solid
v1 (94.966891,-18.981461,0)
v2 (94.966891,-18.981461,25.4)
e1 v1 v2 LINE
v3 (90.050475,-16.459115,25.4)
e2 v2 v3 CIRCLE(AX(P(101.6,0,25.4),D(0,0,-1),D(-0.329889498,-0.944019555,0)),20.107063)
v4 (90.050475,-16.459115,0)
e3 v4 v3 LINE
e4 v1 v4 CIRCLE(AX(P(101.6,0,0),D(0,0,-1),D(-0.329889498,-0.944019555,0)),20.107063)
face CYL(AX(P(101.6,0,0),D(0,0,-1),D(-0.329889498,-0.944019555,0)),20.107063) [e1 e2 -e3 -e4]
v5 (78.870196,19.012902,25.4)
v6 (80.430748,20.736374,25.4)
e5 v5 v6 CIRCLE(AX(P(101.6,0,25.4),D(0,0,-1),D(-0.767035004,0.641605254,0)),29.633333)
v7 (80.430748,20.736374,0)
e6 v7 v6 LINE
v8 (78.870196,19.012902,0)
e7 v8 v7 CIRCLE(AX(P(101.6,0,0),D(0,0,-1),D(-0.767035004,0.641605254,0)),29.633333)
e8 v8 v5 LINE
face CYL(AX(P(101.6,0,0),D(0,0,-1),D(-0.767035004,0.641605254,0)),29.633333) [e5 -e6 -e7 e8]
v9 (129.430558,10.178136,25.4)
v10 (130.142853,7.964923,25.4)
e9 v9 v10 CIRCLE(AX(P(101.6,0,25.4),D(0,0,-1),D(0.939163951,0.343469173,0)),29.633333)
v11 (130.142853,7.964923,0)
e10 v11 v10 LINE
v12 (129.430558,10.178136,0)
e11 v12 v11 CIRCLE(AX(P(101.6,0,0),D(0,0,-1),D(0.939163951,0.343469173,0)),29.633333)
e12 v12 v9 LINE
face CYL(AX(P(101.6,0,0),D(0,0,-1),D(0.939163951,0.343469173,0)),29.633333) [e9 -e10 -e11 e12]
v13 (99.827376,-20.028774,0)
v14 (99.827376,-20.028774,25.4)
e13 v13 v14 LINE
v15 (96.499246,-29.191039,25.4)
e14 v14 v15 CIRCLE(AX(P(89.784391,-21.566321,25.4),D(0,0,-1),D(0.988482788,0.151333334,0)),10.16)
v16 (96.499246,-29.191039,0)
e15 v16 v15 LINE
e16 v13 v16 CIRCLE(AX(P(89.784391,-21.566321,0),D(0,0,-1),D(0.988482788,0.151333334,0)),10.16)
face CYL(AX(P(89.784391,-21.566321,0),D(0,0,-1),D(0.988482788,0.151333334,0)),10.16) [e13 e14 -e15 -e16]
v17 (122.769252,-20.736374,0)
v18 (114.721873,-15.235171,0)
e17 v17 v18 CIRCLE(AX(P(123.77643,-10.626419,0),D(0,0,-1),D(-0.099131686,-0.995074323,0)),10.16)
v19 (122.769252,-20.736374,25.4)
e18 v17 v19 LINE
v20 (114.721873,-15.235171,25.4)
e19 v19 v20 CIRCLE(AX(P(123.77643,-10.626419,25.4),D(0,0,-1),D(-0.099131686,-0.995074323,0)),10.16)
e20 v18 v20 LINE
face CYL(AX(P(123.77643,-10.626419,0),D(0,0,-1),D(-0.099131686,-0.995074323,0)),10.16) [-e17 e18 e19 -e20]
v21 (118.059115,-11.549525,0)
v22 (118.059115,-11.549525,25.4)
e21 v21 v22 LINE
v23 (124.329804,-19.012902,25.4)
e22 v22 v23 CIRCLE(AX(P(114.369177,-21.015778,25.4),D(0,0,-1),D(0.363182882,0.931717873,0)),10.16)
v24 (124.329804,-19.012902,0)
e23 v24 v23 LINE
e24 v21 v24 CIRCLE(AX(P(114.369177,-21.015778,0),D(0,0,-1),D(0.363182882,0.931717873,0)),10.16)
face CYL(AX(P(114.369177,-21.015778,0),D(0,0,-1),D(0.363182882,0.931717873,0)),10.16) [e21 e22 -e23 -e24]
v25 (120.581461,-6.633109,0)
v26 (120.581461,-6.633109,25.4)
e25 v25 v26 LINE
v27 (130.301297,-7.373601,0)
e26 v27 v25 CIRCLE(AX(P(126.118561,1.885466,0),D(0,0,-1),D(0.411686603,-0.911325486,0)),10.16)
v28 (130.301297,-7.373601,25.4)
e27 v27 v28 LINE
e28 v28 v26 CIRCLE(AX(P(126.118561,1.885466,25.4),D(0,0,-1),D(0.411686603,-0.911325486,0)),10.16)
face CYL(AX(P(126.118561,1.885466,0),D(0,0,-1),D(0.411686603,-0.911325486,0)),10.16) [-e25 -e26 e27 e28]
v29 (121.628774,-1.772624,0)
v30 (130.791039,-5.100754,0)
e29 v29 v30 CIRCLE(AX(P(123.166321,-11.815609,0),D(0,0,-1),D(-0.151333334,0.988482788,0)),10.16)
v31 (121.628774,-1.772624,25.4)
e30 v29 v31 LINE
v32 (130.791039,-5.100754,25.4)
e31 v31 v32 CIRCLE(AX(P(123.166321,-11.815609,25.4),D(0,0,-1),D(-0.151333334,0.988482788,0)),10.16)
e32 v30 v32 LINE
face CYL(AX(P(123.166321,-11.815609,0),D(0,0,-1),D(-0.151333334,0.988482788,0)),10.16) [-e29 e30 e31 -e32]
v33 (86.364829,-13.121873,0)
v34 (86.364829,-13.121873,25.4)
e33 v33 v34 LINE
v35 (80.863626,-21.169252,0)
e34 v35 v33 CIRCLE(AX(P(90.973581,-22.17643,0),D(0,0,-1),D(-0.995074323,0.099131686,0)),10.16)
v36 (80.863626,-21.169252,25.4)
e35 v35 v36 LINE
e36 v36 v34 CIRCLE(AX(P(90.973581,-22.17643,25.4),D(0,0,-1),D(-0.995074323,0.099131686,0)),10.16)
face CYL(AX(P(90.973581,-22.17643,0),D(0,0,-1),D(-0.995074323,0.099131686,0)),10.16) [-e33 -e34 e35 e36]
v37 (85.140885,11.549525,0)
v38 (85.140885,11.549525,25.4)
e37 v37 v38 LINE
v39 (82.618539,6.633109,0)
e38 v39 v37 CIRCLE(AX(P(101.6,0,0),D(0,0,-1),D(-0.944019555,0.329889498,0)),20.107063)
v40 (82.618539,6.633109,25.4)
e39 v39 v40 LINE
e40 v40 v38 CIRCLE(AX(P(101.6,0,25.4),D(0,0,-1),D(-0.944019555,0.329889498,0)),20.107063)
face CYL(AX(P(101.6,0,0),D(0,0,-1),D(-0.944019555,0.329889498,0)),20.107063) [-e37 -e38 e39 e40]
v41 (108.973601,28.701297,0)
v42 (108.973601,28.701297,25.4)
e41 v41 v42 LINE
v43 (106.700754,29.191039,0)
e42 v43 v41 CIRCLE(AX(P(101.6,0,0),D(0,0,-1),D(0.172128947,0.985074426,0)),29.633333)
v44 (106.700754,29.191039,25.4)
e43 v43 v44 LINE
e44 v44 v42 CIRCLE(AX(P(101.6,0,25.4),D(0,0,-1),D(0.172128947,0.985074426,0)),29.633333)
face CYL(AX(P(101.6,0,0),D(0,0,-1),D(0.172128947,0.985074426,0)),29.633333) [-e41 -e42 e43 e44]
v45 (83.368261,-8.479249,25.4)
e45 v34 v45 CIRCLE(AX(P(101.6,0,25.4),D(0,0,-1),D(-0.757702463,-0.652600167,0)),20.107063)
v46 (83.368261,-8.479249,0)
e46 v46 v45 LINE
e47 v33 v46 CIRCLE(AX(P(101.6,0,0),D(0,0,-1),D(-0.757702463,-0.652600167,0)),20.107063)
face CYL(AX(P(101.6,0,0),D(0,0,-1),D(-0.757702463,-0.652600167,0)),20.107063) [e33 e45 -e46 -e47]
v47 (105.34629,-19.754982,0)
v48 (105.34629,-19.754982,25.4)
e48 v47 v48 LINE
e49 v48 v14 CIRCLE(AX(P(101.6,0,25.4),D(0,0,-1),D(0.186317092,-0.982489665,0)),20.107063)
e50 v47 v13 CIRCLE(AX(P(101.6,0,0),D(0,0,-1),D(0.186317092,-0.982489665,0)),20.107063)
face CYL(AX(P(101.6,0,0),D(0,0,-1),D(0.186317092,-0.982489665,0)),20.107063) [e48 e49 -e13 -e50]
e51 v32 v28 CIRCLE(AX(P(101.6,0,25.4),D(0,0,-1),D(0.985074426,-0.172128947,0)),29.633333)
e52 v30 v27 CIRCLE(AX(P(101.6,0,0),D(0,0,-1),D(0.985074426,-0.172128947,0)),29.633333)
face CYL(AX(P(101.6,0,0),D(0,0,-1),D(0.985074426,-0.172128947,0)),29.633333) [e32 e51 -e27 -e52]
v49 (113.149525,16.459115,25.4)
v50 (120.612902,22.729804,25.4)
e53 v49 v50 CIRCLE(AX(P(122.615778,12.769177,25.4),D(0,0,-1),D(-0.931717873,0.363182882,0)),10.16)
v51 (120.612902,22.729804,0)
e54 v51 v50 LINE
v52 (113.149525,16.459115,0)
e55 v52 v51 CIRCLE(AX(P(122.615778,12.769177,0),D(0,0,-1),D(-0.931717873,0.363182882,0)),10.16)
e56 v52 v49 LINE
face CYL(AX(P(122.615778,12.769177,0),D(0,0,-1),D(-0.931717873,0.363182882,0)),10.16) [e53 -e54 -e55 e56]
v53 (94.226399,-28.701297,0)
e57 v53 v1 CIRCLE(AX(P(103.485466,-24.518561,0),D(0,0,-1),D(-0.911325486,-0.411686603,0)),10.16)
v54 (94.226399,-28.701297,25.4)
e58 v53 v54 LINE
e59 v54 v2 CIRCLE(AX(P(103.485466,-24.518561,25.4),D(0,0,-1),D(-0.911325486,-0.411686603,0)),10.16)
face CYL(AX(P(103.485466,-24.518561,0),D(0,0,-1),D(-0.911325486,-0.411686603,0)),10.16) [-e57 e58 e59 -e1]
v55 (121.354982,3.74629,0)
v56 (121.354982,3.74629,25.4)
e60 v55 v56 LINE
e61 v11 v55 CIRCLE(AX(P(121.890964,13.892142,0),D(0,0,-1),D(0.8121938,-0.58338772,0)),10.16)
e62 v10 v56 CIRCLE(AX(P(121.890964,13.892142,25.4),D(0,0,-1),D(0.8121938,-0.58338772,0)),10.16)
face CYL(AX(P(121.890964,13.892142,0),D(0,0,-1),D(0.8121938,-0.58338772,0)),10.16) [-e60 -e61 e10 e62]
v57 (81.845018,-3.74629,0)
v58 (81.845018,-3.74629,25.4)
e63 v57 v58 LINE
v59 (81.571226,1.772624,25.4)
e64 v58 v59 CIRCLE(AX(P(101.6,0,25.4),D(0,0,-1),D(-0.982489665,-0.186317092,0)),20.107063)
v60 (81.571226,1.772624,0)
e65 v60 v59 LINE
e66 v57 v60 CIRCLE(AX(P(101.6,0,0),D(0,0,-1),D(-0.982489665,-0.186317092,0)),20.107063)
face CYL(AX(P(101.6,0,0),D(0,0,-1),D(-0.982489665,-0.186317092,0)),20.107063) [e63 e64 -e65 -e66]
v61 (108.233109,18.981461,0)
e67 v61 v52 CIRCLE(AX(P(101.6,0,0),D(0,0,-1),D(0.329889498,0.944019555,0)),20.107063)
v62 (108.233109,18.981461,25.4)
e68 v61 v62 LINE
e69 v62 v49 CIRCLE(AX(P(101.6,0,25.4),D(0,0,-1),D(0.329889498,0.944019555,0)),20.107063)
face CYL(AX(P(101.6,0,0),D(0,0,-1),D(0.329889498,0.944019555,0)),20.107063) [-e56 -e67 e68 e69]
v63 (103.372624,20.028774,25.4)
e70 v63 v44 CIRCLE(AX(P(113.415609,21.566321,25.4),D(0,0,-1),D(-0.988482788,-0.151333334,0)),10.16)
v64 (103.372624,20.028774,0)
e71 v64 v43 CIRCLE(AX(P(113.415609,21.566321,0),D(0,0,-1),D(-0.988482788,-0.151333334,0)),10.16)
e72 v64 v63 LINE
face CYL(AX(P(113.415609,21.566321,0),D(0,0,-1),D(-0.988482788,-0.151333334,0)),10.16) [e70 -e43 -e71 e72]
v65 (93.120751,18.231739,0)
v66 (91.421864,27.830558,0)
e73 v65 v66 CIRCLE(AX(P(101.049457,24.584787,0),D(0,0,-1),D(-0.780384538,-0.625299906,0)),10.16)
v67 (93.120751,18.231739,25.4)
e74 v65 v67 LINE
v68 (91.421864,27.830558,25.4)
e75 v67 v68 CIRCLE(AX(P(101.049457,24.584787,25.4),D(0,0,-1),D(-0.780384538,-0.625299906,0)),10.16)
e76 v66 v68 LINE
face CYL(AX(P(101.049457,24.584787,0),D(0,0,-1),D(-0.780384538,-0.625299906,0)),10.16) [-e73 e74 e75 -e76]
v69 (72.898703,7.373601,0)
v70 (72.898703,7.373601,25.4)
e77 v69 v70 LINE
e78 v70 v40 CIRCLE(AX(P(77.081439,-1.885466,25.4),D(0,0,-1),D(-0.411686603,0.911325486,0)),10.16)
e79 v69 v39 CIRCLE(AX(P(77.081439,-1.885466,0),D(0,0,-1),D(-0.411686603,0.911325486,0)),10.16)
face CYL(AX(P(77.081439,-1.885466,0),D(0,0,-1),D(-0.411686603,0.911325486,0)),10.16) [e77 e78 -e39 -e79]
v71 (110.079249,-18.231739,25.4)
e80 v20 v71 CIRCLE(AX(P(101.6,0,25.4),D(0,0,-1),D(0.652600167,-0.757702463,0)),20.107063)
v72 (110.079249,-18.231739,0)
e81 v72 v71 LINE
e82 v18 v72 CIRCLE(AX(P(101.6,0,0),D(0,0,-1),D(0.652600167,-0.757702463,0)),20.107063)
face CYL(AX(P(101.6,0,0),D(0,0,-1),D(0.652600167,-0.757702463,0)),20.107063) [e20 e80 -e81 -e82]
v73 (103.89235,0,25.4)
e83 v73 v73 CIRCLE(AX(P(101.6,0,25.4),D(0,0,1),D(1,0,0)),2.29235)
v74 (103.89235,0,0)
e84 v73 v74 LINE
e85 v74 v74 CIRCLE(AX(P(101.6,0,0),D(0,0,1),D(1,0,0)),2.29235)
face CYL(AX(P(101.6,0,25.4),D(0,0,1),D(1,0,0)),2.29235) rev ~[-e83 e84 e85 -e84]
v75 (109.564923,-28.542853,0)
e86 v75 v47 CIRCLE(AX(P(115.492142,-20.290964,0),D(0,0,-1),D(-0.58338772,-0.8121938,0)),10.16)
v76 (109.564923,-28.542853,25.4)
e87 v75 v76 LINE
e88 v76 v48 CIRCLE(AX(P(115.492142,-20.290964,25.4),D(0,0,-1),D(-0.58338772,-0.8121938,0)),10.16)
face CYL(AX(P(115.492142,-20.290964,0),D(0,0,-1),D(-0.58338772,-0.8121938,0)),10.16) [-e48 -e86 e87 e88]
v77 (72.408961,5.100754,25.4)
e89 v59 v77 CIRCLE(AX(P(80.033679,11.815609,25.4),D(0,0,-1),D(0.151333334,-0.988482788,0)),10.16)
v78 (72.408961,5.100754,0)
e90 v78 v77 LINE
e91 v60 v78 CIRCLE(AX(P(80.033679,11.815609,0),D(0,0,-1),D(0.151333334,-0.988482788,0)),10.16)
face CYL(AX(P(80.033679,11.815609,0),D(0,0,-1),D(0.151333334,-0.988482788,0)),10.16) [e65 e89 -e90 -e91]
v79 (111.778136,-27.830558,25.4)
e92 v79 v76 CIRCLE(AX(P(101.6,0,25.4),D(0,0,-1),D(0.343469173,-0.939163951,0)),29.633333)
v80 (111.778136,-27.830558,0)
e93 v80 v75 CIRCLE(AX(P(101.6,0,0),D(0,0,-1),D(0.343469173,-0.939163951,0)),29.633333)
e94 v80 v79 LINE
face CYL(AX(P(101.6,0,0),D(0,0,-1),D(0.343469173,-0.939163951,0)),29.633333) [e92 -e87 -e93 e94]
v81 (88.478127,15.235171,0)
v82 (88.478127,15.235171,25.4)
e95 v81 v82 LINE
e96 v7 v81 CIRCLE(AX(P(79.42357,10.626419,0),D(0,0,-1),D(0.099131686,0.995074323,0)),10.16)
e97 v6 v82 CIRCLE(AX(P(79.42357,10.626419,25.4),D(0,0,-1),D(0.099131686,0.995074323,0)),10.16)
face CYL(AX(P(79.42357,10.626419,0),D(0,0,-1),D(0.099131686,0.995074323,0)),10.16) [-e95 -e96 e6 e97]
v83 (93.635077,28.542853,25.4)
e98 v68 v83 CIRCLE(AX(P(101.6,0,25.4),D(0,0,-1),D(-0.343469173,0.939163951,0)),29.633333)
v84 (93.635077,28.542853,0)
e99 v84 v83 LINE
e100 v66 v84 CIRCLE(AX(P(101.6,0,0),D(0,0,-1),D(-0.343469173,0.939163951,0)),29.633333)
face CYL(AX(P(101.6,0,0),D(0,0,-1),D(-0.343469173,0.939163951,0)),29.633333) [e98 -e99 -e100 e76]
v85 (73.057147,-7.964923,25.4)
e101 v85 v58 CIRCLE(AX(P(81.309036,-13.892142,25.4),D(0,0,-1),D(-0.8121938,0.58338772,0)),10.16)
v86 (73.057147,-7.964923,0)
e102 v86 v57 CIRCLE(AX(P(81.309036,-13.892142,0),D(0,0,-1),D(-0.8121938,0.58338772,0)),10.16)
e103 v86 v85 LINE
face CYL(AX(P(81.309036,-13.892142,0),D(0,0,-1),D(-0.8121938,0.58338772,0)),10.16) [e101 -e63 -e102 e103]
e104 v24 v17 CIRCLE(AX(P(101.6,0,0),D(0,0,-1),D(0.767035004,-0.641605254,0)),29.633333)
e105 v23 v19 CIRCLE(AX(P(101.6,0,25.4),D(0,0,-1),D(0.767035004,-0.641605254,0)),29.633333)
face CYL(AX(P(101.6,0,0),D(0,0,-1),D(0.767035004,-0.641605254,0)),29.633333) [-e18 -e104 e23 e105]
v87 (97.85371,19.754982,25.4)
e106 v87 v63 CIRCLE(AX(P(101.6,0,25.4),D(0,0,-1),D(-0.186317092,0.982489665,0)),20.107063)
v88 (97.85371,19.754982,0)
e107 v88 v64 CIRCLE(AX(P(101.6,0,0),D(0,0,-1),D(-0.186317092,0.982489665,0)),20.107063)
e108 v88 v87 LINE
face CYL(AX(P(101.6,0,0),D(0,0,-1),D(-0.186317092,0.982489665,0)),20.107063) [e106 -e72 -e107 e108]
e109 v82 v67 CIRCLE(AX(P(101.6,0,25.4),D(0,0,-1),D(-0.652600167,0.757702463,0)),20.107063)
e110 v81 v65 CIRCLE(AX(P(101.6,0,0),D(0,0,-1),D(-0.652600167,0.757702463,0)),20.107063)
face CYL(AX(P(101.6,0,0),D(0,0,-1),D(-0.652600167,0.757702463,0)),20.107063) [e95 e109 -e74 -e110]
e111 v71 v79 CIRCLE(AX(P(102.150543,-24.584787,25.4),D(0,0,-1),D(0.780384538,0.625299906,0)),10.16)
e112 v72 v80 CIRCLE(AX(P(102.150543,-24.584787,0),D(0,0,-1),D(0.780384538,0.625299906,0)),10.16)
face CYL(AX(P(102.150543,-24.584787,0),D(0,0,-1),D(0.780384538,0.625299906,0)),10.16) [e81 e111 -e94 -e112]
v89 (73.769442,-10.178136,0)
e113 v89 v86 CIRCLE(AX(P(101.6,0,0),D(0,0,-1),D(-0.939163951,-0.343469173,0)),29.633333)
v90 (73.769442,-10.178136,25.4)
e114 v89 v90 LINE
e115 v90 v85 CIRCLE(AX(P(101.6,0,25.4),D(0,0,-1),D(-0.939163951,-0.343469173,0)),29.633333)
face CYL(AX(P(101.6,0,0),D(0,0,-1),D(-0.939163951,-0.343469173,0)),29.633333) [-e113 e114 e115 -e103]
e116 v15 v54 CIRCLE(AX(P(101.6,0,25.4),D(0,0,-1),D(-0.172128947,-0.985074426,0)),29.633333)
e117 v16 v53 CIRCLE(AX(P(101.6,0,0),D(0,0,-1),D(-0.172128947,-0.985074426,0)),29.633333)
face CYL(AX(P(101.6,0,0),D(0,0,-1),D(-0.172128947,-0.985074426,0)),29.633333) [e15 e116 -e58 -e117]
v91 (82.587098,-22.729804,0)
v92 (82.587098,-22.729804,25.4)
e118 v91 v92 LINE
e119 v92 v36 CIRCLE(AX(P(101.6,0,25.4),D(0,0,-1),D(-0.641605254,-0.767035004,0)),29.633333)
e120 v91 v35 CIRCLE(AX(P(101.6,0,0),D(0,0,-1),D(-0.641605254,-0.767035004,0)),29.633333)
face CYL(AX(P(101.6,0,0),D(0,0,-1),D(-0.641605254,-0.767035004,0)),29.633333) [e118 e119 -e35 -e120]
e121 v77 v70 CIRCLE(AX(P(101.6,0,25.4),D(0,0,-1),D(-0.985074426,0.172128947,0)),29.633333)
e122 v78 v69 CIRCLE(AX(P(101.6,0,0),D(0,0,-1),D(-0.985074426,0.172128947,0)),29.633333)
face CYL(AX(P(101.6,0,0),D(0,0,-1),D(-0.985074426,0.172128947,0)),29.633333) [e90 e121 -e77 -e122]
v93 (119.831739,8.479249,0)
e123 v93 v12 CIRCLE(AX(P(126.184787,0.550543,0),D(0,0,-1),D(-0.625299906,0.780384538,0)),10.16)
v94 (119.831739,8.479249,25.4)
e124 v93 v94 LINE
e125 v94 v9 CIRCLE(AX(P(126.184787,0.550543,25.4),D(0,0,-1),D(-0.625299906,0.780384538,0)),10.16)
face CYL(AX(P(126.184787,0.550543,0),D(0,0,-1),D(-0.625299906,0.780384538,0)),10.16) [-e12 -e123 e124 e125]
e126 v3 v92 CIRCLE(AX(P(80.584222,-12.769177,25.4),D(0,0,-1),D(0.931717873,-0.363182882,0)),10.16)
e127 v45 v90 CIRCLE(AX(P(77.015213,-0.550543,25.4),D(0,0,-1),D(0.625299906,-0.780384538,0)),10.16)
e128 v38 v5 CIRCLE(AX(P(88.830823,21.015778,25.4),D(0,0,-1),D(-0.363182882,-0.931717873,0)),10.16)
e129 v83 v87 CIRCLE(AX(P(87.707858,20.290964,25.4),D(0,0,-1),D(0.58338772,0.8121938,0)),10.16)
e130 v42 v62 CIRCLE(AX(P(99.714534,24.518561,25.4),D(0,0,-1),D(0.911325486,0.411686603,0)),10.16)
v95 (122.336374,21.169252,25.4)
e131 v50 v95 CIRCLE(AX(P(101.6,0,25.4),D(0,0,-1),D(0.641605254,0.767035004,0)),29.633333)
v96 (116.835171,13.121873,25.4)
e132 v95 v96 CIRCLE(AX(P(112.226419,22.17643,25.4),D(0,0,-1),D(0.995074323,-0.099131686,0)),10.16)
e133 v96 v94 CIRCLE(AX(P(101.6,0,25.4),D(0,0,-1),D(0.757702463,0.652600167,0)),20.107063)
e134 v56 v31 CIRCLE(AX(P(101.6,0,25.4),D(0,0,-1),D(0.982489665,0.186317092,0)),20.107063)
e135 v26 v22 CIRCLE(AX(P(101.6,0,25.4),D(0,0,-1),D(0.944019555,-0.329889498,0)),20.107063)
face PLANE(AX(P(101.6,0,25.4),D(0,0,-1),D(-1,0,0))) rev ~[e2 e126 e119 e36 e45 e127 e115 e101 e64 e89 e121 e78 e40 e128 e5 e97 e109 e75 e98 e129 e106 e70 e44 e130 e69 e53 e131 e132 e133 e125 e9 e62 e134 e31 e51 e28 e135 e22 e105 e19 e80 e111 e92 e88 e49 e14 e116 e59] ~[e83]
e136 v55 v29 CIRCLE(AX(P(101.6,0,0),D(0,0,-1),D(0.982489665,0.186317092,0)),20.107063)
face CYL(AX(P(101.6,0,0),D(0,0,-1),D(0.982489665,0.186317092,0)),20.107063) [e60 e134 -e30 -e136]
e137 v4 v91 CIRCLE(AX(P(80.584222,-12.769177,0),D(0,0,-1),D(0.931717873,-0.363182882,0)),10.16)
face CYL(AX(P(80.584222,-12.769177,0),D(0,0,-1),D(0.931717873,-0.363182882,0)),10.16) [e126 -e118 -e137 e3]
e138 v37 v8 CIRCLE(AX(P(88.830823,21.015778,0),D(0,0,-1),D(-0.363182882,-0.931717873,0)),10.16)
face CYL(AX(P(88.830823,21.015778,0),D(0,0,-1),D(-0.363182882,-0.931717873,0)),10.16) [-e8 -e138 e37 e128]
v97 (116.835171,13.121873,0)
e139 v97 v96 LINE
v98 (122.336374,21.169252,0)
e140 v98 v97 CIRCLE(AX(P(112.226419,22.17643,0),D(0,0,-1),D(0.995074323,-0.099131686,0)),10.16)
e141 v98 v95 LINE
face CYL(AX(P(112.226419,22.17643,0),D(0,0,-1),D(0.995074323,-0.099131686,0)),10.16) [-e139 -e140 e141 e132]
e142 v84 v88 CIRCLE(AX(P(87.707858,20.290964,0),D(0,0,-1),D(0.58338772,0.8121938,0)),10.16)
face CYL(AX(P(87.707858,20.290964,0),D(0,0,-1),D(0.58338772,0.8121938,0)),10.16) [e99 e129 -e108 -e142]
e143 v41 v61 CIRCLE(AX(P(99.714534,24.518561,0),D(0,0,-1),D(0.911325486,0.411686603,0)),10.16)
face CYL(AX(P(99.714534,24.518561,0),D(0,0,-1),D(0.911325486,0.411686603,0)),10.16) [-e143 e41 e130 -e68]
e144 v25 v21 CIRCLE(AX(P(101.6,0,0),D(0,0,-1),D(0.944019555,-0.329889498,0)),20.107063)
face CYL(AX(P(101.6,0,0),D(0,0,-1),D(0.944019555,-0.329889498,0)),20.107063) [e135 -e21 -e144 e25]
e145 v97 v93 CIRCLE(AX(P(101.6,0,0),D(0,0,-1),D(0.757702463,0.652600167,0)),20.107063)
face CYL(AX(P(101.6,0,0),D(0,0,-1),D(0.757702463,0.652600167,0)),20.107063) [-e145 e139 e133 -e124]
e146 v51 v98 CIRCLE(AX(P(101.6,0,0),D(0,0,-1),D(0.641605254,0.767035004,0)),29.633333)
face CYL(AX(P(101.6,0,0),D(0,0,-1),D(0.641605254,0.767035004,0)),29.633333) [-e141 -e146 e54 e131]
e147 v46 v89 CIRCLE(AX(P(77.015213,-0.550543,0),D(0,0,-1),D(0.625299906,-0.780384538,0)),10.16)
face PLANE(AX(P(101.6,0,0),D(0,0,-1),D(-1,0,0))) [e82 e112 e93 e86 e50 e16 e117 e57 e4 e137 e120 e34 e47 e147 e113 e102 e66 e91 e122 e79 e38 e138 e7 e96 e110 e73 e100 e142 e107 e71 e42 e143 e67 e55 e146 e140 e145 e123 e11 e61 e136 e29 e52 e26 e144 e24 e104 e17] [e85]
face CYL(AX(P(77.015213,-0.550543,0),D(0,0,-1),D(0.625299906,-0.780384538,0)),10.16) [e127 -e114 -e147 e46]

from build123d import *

# Parameters (mm, degrees)
SKETCH1_R           = 0.396875
BOSS_EXTRUDE1_DEPTH = 25.4
SKETCH3_R           = 2.29235
CUT_EXTRUDE1_DEPTH  = 45.3009


with BuildPart() as part:
    # Sketch1 → Boss-Extrude1 (new body)
    with BuildSketch(Plane(origin=(0, 0, 0), x_dir=(-1, 0, 0), z_dir=(0, 0, -1))):
        with BuildLine():
            ThreePointArc((-94.226399104, -28.701297083), (-93.354822314, -23.746772531), (-94.966890975, -18.98146097))
            ThreePointArc((-94.966890975, -18.98146097), (-92.421623219, -17.889980312), (-90.050475192, -16.459115183))
            ThreePointArc((-90.050475192, -16.459115183), (-87.119940237, -20.547993332), (-82.587097641, -22.729803966))
            ThreePointArc((-82.587097641, -22.729803966), (-81.710050828, -21.966437271), (-80.863625765, -21.169251948))
            ThreePointArc((-80.863625765, -21.169251948), (-82.5860804, -16.442719427), (-86.364828593, -13.121872888))
            ThreePointArc((-86.364828593, -13.121872888), (-84.706302386, -10.903989032), (-83.368260523, -8.479249468))
            ThreePointArc((-83.368260523, -8.479249468), (-78.785903731, -10.555054341), (-73.769441574, -10.178136478))
            ThreePointArc((-73.769441574, -10.178136478), (-73.391580101, -9.078518121), (-73.057147156, -7.964922849))
            ThreePointArc((-73.057147156, -7.964922849), (-76.912102887, -4.732852931), (-81.845018087, -3.746289563))
            ThreePointArc((-81.845018087, -3.746289563), (-81.517634186, -0.996282698), (-81.571225724, 1.772624294))
            ThreePointArc((-81.571225724, 1.772624294), (-76.564885896, 2.266102937), (-72.408961163, 5.10075446))
            ThreePointArc((-72.408961163, 5.10075446), (-72.631532707, 6.241982628), (-72.898702917, 7.373600896))
            ThreePointArc((-72.898702917, 7.373600896), (-77.853227469, 8.245177686), (-82.61853903, 6.633109025))
            ThreePointArc((-82.61853903, 6.633109025), (-83.710019688, 9.178376781), (-85.140884817, 11.549524808))
            ThreePointArc((-85.140884817, 11.549524808), (-81.052006668, 14.480059763), (-78.870196034, 19.012902359))
            ThreePointArc((-78.870196034, 19.012902359), (-79.633562729, 19.889949172), (-80.430748052, 20.736374235))
            ThreePointArc((-80.430748052, 20.736374235), (-85.157280573, 19.0139196), (-88.478127112, 15.235171407))
            ThreePointArc((-88.478127112, 15.235171407), (-90.696010968, 16.893697614), (-93.120750532, 18.231739477))
            ThreePointArc((-93.120750532, 18.231739477), (-91.044945659, 22.814096269), (-91.421863522, 27.830558426))
            ThreePointArc((-91.421863522, 27.830558426), (-92.521481879, 28.208419899), (-93.635077151, 28.542852844))
            ThreePointArc((-93.635077151, 28.542852844), (-96.867147069, 24.687897113), (-97.853710437, 19.754981913))
            ThreePointArc((-97.853710437, 19.754981913), (-100.603717302, 20.082365814), (-103.372624294, 20.028774276))
            ThreePointArc((-103.372624294, 20.028774276), (-103.866102937, 25.035114104), (-106.70075446, 29.191038837))
            ThreePointArc((-106.70075446, 29.191038837), (-107.841982628, 28.968467293), (-108.973600896, 28.701297083))
            ThreePointArc((-108.973600896, 28.701297083), (-109.845177686, 23.746772531), (-108.233109025, 18.98146097))
            ThreePointArc((-108.233109025, 18.98146097), (-110.778376781, 17.889980312), (-113.149524808, 16.459115183))
            ThreePointArc((-113.149524808, 16.459115183), (-116.080059763, 20.547993332), (-120.612902359, 22.729803966))
            ThreePointArc((-120.612902359, 22.729803966), (-121.489949172, 21.966437271), (-122.336374235, 21.169251948))
            ThreePointArc((-122.336374235, 21.169251948), (-120.6139196, 16.442719427), (-116.835171407, 13.121872888))
            ThreePointArc((-116.835171407, 13.121872888), (-118.493697614, 10.903989032), (-119.831739477, 8.479249468))
            ThreePointArc((-119.831739477, 8.479249468), (-124.414096269, 10.555054341), (-129.430558426, 10.178136478))
            ThreePointArc((-129.430558426, 10.178136478), (-129.808419899, 9.078518121), (-130.142852844, 7.964922849))
            ThreePointArc((-130.142852844, 7.964922849), (-126.287897113, 4.732852931), (-121.354981913, 3.746289563))
            ThreePointArc((-121.354981913, 3.746289563), (-121.682365814, 0.996282698), (-121.628774276, -1.772624294))
            ThreePointArc((-121.628774276, -1.772624294), (-126.635114104, -2.266102937), (-130.791038837, -5.10075446))
            ThreePointArc((-130.791038837, -5.10075446), (-130.568467293, -6.241982628), (-130.301297083, -7.373600896))
            ThreePointArc((-130.301297083, -7.373600896), (-125.346772531, -8.245177686), (-120.58146097, -6.633109025))
            ThreePointArc((-120.58146097, -6.633109025), (-119.489980312, -9.178376781), (-118.059115183, -11.549524808))
            ThreePointArc((-118.059115183, -11.549524808), (-122.147993332, -14.480059763), (-124.329803966, -19.012902359))
            ThreePointArc((-124.329803966, -19.012902359), (-123.566437271, -19.889949172), (-122.769251948, -20.736374235))
            ThreePointArc((-122.769251948, -20.736374235), (-118.042719427, -19.0139196), (-114.721872888, -15.235171407))
            ThreePointArc((-114.721872888, -15.235171407), (-112.503989032, -16.893697614), (-110.079249468, -18.231739477))
            ThreePointArc((-110.079249468, -18.231739477), (-112.155054341, -22.814096269), (-111.778136478, -27.830558426))
            ThreePointArc((-111.778136478, -27.830558426), (-110.678518121, -28.208419899), (-109.564922849, -28.542852844))
            ThreePointArc((-109.564922849, -28.542852844), (-106.332852931, -24.687897113), (-105.346289563, -19.754981913))
            ThreePointArc((-105.346289563, -19.754981913), (-102.596282698, -20.082365814), (-99.827375706, -20.028774276))
            ThreePointArc((-99.827375706, -20.028774276), (-99.333897063, -25.035114104), (-96.49924554, -29.191038837))
            ThreePointArc((-96.49924554, -29.191038837), (-95.358017372, -28.968467293), (-94.226399104, -28.701297083))
        make_face()
        with Locations((-101.6, 0)):
            Circle(SKETCH1_R, mode=Mode.SUBTRACT)
    extrude(amount=-BOSS_EXTRUDE1_DEPTH)

    # Sketch3 → Cut-Extrude1 (cut)
    with BuildSketch(Plane.XY.offset(25.4)):
        with Locations((101.6, 0)):
            Circle(SKETCH3_R)
    extrude(amount=-CUT_EXTRUDE1_DEPTH, mode=Mode.SUBTRACT)


solid = part.part
